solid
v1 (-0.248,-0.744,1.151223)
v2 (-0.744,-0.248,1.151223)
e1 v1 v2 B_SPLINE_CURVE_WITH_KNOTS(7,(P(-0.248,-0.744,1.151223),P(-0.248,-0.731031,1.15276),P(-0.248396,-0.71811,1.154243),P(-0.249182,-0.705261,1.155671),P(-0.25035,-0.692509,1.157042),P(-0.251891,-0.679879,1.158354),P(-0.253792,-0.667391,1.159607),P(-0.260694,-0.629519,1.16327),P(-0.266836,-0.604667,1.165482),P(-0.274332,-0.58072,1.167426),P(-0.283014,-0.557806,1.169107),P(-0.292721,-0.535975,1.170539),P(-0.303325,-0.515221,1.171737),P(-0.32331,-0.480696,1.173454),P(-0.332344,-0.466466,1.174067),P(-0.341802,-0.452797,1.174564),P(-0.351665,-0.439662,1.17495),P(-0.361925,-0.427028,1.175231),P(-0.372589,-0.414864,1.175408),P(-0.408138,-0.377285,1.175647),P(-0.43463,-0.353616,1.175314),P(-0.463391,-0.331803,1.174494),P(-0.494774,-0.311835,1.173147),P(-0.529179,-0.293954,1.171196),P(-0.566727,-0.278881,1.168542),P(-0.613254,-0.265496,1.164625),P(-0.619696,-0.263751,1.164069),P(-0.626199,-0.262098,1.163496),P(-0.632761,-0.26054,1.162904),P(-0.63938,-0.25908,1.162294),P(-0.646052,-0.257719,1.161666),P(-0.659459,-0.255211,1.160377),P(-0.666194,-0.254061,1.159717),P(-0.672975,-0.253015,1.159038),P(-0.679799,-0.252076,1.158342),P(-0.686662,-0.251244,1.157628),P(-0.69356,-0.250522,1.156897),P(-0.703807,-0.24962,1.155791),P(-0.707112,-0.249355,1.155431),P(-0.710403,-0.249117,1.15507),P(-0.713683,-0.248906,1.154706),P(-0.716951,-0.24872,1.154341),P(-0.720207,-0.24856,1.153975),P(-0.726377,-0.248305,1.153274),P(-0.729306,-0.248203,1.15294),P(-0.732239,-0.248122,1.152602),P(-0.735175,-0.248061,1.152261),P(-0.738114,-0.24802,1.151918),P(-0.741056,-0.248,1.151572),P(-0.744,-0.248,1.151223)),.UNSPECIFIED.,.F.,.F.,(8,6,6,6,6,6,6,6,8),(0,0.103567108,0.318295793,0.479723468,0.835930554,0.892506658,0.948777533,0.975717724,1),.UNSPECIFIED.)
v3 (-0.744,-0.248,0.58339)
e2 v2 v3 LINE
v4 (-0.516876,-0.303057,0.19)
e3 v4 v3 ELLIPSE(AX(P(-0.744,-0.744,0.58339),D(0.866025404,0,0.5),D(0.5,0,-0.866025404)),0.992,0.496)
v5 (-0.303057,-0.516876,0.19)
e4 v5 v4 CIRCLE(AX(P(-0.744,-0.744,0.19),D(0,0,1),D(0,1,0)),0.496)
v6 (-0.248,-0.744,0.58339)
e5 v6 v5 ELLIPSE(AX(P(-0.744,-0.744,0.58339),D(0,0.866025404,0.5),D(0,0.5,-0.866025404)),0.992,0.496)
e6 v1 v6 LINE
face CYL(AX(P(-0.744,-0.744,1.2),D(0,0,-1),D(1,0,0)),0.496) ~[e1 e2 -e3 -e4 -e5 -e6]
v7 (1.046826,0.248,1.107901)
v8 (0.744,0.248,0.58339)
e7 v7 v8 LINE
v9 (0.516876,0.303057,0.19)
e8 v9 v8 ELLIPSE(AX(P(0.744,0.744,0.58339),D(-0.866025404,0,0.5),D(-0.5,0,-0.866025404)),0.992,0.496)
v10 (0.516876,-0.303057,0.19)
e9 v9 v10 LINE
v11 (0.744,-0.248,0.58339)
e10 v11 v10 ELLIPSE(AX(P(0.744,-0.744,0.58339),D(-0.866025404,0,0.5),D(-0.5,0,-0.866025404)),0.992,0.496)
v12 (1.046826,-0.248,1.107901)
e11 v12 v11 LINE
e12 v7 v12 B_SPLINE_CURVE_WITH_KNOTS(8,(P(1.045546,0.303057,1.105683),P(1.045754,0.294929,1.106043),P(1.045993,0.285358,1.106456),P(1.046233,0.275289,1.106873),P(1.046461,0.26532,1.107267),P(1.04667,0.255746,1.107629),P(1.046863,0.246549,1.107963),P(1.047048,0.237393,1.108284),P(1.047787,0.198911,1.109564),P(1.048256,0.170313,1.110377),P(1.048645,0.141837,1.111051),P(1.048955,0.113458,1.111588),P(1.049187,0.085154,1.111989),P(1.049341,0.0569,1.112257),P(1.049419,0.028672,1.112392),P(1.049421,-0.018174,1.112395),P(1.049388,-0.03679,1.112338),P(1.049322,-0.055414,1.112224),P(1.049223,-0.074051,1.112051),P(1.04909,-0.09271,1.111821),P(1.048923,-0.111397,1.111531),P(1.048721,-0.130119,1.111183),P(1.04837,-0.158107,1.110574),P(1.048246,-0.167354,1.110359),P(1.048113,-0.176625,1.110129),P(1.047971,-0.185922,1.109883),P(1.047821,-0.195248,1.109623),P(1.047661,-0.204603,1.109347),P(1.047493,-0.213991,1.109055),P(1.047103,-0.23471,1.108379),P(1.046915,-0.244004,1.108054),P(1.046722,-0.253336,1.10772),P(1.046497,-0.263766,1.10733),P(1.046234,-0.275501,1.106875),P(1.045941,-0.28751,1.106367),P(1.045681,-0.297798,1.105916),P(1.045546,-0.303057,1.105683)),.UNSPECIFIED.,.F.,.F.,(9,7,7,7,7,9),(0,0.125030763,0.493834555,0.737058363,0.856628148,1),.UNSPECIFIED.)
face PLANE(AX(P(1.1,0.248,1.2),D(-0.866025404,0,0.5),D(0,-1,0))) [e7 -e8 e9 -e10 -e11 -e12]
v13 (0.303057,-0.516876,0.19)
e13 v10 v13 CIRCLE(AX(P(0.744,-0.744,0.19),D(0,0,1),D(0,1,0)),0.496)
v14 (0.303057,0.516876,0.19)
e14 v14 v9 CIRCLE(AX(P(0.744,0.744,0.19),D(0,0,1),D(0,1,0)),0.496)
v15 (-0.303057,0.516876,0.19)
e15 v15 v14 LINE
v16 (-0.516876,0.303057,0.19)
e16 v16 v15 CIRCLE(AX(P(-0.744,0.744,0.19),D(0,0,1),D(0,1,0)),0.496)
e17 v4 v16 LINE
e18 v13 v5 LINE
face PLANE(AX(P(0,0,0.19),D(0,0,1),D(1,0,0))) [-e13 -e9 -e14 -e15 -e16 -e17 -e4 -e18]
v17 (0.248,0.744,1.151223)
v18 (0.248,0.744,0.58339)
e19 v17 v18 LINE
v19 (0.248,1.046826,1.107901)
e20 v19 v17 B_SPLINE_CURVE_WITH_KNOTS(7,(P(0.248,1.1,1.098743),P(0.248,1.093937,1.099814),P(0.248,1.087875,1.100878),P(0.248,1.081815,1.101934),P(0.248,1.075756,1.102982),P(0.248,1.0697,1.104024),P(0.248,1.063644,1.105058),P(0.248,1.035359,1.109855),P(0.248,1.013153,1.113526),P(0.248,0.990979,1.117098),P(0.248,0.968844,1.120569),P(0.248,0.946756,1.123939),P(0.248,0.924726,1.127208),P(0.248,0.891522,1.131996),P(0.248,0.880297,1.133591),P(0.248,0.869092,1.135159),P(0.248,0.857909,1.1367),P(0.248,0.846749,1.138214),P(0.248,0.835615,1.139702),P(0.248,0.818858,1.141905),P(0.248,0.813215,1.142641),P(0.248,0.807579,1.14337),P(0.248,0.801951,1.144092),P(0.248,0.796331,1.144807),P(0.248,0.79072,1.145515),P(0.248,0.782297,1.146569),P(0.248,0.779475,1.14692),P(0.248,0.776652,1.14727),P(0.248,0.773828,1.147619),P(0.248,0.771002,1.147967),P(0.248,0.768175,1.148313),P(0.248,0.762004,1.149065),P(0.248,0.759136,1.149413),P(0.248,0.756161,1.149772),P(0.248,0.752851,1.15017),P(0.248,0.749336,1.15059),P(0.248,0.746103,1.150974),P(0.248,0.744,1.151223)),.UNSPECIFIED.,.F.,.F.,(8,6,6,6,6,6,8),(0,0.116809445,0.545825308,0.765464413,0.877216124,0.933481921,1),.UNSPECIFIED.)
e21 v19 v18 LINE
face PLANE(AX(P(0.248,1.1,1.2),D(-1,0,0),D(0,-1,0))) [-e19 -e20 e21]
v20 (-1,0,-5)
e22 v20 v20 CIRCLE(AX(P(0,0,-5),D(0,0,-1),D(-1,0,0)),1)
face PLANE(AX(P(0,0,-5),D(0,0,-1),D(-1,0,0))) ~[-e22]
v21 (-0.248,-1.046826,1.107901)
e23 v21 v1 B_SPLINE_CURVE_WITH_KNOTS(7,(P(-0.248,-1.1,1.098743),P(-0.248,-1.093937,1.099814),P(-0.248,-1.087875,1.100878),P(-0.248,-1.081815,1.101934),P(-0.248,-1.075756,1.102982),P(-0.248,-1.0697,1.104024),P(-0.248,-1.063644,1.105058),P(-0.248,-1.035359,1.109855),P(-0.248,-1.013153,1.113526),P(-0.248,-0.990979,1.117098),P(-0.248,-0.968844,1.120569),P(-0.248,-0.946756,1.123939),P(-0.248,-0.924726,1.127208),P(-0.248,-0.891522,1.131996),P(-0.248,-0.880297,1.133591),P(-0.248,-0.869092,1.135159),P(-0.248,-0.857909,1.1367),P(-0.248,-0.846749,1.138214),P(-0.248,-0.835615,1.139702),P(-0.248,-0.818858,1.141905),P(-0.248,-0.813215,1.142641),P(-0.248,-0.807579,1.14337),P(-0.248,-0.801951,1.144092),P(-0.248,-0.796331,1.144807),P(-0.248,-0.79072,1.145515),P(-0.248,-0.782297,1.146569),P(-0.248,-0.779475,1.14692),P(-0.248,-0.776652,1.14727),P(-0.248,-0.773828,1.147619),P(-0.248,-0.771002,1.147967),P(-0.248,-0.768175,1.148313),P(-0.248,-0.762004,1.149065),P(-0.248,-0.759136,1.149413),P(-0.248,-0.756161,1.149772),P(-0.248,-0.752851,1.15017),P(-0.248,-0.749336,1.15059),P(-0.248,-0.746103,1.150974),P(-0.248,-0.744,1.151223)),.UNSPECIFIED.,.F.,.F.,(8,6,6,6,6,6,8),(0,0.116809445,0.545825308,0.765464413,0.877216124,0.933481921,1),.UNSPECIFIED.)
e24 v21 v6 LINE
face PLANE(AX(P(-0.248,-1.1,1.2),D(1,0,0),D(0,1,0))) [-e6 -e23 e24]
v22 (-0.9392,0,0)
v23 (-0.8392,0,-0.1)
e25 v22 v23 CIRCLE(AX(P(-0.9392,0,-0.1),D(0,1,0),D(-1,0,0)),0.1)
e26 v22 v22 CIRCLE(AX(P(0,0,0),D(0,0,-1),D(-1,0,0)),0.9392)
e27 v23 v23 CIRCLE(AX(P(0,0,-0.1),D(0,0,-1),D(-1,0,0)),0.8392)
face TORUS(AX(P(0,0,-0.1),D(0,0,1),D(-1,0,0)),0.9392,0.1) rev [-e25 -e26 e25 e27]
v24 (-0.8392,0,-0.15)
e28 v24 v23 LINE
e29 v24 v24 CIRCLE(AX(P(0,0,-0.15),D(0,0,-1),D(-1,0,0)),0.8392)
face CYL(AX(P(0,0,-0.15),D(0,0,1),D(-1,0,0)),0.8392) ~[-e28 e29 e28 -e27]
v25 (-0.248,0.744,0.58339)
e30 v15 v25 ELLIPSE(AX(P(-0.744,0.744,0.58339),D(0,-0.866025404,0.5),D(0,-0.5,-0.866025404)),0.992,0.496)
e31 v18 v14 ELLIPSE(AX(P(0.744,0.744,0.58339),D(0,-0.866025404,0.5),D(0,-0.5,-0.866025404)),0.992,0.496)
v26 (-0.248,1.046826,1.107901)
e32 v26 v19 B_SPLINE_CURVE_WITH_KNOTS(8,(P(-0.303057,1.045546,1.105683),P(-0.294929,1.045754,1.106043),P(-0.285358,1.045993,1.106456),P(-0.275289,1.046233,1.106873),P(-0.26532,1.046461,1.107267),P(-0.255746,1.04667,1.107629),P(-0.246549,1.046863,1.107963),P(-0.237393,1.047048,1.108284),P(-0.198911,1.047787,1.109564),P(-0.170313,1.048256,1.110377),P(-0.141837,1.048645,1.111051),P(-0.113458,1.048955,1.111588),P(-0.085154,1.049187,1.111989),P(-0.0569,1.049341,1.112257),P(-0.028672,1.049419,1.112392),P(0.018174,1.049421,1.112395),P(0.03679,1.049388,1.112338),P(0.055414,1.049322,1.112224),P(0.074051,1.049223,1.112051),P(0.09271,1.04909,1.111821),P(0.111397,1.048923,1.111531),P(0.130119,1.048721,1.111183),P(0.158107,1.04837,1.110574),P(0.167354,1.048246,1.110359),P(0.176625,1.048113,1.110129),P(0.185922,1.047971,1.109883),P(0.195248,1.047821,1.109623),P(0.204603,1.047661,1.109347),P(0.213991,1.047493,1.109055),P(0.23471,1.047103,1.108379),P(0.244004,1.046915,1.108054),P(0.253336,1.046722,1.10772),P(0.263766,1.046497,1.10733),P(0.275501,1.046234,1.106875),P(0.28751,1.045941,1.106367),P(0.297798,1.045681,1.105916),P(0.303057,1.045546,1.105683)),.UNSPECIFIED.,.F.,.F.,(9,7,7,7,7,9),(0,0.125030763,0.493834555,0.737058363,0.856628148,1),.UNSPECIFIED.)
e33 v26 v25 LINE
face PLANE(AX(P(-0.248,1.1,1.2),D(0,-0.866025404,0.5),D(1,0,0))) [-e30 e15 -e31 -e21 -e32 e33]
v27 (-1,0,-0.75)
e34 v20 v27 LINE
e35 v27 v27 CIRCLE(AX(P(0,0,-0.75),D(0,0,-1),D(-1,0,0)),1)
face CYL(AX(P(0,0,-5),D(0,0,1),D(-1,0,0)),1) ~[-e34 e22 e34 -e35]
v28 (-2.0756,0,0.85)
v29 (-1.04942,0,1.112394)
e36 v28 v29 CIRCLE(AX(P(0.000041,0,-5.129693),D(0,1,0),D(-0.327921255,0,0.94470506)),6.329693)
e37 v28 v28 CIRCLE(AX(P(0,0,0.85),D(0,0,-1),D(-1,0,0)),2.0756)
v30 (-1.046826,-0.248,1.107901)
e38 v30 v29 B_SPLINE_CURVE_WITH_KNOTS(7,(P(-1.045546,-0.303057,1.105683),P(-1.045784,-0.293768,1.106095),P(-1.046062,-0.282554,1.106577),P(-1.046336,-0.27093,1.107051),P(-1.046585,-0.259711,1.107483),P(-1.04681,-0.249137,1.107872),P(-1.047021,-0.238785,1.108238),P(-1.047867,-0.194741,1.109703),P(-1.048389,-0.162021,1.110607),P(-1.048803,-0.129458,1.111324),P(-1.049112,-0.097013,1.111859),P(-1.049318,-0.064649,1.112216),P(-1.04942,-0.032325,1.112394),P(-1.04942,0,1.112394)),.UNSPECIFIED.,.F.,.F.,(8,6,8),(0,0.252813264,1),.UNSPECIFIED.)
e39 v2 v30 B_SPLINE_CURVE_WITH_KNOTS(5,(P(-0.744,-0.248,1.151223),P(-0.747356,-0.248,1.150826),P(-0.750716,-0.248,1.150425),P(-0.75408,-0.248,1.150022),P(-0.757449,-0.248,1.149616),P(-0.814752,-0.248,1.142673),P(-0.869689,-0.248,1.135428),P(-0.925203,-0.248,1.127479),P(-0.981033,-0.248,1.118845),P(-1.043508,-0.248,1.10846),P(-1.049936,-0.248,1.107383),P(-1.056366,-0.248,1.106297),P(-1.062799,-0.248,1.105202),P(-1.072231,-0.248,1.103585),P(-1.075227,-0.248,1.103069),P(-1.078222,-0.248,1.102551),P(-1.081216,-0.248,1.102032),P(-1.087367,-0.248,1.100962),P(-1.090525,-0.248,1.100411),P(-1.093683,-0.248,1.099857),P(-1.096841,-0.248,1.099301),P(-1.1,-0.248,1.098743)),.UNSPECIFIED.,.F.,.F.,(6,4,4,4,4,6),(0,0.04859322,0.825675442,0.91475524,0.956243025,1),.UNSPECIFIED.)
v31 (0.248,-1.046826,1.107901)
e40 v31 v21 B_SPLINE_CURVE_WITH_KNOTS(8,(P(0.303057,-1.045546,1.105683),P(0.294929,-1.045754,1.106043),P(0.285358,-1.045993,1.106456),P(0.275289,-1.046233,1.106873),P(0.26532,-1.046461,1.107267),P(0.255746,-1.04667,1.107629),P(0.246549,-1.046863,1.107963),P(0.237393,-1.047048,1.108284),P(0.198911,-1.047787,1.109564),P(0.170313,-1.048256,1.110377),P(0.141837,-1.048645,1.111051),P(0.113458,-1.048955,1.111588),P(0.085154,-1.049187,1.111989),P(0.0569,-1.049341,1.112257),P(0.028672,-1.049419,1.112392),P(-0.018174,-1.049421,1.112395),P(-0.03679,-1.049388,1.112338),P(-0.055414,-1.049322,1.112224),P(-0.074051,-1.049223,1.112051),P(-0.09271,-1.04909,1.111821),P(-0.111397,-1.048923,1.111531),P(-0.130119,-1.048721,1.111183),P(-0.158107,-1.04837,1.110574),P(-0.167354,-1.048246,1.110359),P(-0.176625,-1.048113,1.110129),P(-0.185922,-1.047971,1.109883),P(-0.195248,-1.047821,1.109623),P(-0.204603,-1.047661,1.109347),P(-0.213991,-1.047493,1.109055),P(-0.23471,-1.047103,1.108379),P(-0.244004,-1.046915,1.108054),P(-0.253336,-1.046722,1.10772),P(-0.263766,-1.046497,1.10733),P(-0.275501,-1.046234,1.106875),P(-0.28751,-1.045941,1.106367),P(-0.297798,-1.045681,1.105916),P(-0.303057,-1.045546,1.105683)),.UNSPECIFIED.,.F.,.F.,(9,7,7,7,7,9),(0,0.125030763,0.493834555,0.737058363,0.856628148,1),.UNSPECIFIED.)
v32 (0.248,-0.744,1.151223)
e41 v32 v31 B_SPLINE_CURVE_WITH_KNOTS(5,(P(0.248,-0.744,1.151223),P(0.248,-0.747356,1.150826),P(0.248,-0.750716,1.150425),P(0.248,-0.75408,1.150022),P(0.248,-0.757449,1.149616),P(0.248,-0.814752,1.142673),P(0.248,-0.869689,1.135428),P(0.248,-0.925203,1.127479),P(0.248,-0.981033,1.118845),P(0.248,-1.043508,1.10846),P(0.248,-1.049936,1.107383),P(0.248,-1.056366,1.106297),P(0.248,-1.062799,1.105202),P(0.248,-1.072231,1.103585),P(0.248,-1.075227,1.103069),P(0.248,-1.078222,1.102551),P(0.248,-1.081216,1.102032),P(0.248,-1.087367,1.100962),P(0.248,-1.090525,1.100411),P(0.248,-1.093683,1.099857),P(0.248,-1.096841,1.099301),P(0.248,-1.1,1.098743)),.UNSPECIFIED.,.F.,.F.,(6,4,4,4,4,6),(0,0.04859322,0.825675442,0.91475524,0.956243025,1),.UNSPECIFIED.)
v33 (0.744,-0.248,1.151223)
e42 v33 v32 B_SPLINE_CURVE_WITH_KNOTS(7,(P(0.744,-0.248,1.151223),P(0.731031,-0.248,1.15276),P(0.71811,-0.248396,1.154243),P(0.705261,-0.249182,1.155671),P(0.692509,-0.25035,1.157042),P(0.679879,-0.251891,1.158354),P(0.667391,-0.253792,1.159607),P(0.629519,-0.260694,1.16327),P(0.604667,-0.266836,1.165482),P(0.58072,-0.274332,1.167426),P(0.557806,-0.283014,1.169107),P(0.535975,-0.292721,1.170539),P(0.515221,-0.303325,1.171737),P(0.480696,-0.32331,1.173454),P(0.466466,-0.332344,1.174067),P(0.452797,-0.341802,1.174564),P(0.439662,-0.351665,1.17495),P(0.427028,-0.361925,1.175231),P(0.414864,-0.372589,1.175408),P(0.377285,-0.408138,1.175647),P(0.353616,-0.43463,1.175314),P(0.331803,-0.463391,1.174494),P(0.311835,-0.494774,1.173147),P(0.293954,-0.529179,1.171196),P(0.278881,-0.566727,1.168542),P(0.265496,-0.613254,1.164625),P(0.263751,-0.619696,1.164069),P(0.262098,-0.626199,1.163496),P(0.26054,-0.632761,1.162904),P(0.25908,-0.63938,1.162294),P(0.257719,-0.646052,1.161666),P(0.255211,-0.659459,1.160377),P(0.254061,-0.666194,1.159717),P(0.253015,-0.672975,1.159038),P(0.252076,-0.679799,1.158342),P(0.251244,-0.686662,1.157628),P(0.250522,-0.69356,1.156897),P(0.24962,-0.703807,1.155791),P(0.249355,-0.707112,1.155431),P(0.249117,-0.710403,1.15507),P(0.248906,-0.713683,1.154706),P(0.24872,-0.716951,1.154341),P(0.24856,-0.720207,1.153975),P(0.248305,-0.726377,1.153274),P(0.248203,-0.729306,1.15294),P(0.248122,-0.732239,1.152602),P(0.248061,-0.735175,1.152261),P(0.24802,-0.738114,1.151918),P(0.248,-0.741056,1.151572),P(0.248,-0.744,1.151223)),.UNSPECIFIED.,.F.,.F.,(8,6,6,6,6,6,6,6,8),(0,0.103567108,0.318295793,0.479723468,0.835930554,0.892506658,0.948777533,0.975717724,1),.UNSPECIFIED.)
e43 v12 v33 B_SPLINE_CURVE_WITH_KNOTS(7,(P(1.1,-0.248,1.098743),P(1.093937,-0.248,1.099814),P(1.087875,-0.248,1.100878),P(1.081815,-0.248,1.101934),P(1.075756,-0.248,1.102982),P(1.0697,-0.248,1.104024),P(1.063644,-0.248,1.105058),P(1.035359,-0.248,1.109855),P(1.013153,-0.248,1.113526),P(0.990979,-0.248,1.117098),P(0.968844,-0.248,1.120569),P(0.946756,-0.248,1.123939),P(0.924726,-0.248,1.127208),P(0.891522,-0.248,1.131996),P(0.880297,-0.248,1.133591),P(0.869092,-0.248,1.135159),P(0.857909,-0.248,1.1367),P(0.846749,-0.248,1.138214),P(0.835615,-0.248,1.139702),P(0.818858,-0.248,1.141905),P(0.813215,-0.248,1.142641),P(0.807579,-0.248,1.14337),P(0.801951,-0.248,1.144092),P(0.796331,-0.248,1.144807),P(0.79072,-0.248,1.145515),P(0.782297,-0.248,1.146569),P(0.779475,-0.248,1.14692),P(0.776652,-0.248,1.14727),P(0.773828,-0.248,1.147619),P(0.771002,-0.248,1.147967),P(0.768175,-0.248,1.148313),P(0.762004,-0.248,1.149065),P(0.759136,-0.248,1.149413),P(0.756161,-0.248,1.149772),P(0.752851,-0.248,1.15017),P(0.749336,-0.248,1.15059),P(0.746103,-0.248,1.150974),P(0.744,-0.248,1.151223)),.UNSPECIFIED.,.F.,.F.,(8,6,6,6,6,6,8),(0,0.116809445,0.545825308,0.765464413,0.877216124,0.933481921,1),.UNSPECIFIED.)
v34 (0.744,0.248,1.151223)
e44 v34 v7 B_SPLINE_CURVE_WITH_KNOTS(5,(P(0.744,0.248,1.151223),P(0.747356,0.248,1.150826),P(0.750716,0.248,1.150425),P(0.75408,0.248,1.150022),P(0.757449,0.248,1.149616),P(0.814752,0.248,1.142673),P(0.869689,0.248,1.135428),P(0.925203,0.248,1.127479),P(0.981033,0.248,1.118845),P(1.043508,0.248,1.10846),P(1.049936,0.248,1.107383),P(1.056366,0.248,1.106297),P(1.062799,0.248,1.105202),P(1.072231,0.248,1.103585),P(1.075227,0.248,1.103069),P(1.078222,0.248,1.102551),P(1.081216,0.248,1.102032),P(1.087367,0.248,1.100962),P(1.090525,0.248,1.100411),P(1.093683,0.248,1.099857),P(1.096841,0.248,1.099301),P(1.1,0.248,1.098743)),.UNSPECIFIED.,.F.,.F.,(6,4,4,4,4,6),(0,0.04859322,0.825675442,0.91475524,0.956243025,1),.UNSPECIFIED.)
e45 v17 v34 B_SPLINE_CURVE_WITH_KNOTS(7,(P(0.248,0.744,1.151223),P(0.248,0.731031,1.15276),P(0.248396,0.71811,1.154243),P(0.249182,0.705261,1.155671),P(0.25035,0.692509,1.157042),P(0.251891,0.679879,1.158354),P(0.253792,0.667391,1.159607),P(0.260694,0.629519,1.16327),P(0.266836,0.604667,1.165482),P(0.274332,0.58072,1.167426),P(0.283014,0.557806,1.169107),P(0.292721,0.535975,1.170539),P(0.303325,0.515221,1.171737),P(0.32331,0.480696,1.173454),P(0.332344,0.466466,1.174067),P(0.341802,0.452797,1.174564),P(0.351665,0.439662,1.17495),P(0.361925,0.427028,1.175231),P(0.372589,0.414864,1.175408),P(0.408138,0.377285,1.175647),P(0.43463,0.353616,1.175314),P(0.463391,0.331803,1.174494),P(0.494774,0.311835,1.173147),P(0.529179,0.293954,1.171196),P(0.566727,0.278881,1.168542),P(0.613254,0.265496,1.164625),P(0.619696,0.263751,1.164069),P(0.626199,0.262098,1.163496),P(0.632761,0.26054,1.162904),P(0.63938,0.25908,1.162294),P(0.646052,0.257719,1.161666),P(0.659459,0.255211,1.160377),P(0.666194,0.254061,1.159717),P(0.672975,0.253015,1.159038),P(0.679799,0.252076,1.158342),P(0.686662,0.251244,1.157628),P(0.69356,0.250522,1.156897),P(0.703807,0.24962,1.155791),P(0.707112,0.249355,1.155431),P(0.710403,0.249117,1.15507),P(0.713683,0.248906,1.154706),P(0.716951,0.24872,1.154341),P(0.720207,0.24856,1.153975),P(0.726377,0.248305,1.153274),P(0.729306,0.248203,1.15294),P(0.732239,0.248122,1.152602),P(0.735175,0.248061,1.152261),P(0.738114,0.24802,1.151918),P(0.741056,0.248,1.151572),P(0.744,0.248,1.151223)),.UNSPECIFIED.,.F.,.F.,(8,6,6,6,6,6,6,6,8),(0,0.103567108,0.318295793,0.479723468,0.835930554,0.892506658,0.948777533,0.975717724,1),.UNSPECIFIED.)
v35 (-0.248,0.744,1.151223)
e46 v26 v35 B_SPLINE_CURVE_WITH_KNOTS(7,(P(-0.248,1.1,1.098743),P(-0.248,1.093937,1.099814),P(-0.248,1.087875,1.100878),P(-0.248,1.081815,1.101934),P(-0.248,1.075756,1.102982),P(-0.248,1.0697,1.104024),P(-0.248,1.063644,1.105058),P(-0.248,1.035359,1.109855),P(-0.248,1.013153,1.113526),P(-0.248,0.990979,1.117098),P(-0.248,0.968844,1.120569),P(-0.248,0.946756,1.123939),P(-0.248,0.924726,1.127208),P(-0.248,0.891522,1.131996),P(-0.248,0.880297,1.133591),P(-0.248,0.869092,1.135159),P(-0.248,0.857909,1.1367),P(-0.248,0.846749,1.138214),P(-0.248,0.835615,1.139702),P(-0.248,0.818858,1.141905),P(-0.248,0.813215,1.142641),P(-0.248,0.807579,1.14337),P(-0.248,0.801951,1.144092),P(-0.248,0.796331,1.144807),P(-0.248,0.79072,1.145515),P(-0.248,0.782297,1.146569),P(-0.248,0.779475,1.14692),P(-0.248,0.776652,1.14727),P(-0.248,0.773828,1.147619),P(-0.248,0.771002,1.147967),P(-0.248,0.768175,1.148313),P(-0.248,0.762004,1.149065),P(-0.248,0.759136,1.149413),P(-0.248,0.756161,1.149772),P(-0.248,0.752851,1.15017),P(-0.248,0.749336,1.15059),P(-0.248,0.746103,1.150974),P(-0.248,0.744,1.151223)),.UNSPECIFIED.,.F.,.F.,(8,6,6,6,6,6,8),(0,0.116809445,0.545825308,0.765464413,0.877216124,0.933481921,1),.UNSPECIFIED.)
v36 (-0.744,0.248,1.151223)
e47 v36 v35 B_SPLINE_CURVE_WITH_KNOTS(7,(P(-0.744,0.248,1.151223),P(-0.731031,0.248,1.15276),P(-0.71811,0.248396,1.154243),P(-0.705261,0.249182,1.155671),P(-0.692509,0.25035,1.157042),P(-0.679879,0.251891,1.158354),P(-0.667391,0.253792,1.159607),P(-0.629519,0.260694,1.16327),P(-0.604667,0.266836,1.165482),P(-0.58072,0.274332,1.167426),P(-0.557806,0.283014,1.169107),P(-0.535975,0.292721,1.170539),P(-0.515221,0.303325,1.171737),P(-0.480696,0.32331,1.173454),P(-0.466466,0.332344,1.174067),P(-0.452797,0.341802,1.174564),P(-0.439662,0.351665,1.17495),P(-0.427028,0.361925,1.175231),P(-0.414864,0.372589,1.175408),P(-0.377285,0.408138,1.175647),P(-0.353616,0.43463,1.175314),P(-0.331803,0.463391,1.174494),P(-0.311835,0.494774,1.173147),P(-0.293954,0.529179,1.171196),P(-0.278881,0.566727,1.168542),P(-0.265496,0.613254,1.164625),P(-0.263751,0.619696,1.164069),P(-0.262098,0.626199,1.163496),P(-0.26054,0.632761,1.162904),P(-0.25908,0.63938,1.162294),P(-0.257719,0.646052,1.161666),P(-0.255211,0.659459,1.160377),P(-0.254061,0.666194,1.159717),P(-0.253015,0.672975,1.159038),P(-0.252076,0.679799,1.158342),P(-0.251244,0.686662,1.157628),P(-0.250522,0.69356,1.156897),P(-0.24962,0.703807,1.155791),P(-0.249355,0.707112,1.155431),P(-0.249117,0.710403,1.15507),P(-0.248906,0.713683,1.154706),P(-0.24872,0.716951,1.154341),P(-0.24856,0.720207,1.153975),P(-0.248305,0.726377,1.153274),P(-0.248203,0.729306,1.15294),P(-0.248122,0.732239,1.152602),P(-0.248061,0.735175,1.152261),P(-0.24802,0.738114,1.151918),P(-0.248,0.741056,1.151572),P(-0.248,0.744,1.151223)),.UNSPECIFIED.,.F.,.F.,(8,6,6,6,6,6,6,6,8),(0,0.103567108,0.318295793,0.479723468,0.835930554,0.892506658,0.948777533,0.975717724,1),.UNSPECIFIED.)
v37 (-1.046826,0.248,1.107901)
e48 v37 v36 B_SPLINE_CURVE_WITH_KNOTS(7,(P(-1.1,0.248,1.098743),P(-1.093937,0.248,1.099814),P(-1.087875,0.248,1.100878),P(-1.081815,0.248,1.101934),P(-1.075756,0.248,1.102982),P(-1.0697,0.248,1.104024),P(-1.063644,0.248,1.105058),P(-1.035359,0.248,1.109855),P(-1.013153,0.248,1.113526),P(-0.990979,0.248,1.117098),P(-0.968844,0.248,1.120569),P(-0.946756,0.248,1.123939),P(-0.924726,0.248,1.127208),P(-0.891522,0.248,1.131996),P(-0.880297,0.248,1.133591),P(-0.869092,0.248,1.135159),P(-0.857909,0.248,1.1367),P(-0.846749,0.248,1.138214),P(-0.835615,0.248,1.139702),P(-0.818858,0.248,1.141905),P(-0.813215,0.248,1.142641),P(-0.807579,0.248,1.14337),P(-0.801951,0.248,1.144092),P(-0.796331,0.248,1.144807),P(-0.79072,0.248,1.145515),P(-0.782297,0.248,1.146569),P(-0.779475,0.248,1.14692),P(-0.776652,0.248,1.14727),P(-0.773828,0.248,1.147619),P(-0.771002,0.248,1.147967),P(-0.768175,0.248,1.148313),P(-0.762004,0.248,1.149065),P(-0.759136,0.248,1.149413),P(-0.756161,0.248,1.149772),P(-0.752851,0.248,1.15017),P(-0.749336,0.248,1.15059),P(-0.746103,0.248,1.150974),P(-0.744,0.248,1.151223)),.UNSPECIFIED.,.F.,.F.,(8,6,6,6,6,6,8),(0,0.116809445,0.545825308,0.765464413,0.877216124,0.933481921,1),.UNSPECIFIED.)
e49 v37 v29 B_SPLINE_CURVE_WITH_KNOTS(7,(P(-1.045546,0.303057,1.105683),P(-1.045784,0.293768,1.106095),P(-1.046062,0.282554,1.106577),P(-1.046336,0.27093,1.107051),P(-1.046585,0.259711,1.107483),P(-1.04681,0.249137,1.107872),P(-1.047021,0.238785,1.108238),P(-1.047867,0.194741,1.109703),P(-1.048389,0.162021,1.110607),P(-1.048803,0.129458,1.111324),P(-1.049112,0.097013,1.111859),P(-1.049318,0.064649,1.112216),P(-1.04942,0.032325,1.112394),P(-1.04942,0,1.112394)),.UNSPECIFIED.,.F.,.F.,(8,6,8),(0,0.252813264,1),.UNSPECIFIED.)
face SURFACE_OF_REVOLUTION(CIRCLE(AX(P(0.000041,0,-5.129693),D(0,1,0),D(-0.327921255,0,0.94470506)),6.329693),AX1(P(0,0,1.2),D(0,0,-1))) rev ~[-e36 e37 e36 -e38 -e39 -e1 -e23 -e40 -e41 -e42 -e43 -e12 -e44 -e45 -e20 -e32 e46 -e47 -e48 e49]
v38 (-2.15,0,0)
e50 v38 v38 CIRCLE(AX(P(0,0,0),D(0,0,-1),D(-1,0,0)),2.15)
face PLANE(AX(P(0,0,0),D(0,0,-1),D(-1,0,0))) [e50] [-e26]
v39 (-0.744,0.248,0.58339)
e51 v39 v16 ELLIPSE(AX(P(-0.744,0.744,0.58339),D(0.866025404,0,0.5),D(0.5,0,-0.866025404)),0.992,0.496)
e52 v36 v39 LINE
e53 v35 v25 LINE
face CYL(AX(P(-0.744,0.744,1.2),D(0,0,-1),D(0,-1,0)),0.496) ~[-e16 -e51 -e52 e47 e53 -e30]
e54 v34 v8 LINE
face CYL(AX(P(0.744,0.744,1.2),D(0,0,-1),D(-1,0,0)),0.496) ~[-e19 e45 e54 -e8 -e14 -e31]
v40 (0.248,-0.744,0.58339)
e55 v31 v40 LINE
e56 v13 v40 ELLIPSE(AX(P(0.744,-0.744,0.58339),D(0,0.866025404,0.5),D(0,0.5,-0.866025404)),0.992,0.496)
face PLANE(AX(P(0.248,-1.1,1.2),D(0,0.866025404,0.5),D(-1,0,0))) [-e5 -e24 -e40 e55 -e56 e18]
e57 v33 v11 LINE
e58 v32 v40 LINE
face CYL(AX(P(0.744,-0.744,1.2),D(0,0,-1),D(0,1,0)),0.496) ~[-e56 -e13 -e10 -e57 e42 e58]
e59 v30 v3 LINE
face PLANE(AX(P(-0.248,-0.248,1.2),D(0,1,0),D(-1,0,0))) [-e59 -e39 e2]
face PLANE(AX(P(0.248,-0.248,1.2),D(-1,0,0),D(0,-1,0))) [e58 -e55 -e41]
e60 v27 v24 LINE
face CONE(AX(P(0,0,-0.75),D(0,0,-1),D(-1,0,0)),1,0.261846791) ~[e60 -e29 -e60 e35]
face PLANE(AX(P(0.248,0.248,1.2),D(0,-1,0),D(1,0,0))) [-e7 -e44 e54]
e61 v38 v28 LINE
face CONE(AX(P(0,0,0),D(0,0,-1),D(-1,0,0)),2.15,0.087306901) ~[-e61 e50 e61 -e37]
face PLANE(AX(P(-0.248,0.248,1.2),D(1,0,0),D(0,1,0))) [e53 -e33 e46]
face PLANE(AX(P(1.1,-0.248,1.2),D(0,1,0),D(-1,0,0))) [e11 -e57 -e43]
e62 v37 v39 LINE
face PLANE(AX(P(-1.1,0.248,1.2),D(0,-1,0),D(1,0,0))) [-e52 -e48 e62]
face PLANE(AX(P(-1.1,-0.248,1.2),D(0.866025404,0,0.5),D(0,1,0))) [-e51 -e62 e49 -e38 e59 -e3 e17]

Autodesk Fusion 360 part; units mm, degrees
sketch "Sketch1" plane through (0, 0, 0) normal (0, 1, 0) x (1, 0, 0)
  line L0 (0, -1.2) -> (0, 5)
  line L1 (-2.15, 0) -> (-2.0756, -0.85)
  line L2 (-2.15, 0) -> (-0.8392, 0)
  arc A0 (-2.0756, -0.85) -> (0, -1.2) centre (0, 5.1297) ccw
  line L3 (0, 5) -> (-1, 5)
  line L4 (-1, 5) -> (-1, 0.75)
  line L5 (-1, 0.75) -> (-0.8392, 0.15)
  line L6 (-0.8392, 0.15) -> (-0.8392, 0)
  dimension "d13" = 5
  dimension "d14" = 4.3
  dimension "d18" = 2
  dimension "d23" = 15
  dimension "d53" = 1.2
  dimension "d55" = 4.25
  dimension "d56" = 5
  dimension "d57" = 4.85
  dimension "d60" = 0.85
revolve "Revolve1" add sketch "Sketch1" angle 360 about axis through (0, 0, 1.2) along (0, 0, -1) makes body 1
fillet "Fillet2" radius 0.1 1 edges at (-0.7824, 0.3035, 0) on bodies 1
ref_plane "WorkPlane1" through (0, 0, 1.2) normal (0, 0, 1) x (1, 0, 0)
sketch "Sketch2" plane through (0, 0, 1.2) normal (0, 0, 1) x (1, 0, 0)
  line L0 (-1.1, 0) -> (1.1, 0) construction
  line L1 (0, -1.1) -> (0, 1.1) construction
  line L2 (-0.248, 1.1) -> (0.248, 1.1)
  line L3 (0.248, 1.1) -> (0.248, 0.248)
  line L4 (0.248, 0.248) -> (1.1, 0.248)
  line L5 (1.1, 0.248) -> (1.1, -0.248)
  line L6 (1.1, -0.248) -> (0.248, -0.248)
  line L7 (0.248, -0.248) -> (0.248, -1.1)
  line L8 (0.248, -1.1) -> (-0.248, -1.1)
  line L9 (-0.248, -1.1) -> (-0.248, -0.248)
  line L10 (-0.248, -0.248) -> (-1.1, -0.248)
  line L11 (-1.1, -0.248) -> (-1.1, 0.248)
  line L12 (-1.1, 0.248) -> (-0.248, 0.248)
  line L13 (-0.248, 0.248) -> (-0.248, 1.1)
  dimension "d58" = 0.496
  dimension "d59" = 0.496
  dimension "d61" = 2.2
  dimension "d62" = 2.2
extrude "Extrude1" add sketch "Sketch2" against normal blind 1.01 separate body makes body 2
draft "Draft1" angle -30 neutral plane through (0, 0, 1.2) pull (0, 0, 1) 4 faces at (0.0827, -1.1, 0.8633) (-0.0827, 1.1, 0.8633) (-1.1, -0.0827, 0.8633) (1.1, 0.0827, 0.8633) on bodies 2
fillet "Fillet1" radius 0.496 4 edges at (0.248, -0.248, 0.695) (-0.248, -0.248, 0.695) (-0.248, 0.248, 0.695) (0.248, 0.248, 0.695) on bodies 2
combine "Combine1" operation cut target body 1 tool bodies 2
thread "Thread1" thread offset 0 thread length 10
equation "adsk_nomdia = 2.00 mm"
equation "adsk_nomlen = 5.00 mm"
equation "adsk_headdia = 4.30 mm"
equation "adsk_baseh = 0.85 mm"
equation "adsk_phildia = 2.20 mm"
equation "adsk_midfillet = 0.10 mm"
equation "adsk_thrlen = 4.25 mm"
equation "adsk_phildepth = 1.01 mm"
equation "adsk_thrrun = 0.60 mm"
equation "adsk_thrang = 15.00 deg"
equation "adsk_headang = 5.00 deg"
equation "d13 = adsk_headang"
equation "d14 = adsk_headdia"
equation "adsk_ovalh = 0.35 mm"
equation "d18 = adsk_nomdia"
equation "d23 = adsk_thrang"
equation "d32 = adsk_baseh + adsk_ovalh"
equation "adsk_philwidth = 0.496 mm"
equation "d48 = adsk_philwidth"
equation "d52 = adsk_midfillet"
equation "d53 = adsk_baseh + adsk_ovalh"
equation "d55 = adsk_thrlen"
equation "d56 = adsk_nomlen"
equation "d57 = adsk_thrlen + adsk_thrrun"
equation "d58 = adsk_philwidth"
equation "d59 = adsk_philwidth"
equation "d60 = adsk_baseh"
equation "d61 = adsk_phildia"
equation "d62 = adsk_phildia"
properties part number "arrangementsContainer"
